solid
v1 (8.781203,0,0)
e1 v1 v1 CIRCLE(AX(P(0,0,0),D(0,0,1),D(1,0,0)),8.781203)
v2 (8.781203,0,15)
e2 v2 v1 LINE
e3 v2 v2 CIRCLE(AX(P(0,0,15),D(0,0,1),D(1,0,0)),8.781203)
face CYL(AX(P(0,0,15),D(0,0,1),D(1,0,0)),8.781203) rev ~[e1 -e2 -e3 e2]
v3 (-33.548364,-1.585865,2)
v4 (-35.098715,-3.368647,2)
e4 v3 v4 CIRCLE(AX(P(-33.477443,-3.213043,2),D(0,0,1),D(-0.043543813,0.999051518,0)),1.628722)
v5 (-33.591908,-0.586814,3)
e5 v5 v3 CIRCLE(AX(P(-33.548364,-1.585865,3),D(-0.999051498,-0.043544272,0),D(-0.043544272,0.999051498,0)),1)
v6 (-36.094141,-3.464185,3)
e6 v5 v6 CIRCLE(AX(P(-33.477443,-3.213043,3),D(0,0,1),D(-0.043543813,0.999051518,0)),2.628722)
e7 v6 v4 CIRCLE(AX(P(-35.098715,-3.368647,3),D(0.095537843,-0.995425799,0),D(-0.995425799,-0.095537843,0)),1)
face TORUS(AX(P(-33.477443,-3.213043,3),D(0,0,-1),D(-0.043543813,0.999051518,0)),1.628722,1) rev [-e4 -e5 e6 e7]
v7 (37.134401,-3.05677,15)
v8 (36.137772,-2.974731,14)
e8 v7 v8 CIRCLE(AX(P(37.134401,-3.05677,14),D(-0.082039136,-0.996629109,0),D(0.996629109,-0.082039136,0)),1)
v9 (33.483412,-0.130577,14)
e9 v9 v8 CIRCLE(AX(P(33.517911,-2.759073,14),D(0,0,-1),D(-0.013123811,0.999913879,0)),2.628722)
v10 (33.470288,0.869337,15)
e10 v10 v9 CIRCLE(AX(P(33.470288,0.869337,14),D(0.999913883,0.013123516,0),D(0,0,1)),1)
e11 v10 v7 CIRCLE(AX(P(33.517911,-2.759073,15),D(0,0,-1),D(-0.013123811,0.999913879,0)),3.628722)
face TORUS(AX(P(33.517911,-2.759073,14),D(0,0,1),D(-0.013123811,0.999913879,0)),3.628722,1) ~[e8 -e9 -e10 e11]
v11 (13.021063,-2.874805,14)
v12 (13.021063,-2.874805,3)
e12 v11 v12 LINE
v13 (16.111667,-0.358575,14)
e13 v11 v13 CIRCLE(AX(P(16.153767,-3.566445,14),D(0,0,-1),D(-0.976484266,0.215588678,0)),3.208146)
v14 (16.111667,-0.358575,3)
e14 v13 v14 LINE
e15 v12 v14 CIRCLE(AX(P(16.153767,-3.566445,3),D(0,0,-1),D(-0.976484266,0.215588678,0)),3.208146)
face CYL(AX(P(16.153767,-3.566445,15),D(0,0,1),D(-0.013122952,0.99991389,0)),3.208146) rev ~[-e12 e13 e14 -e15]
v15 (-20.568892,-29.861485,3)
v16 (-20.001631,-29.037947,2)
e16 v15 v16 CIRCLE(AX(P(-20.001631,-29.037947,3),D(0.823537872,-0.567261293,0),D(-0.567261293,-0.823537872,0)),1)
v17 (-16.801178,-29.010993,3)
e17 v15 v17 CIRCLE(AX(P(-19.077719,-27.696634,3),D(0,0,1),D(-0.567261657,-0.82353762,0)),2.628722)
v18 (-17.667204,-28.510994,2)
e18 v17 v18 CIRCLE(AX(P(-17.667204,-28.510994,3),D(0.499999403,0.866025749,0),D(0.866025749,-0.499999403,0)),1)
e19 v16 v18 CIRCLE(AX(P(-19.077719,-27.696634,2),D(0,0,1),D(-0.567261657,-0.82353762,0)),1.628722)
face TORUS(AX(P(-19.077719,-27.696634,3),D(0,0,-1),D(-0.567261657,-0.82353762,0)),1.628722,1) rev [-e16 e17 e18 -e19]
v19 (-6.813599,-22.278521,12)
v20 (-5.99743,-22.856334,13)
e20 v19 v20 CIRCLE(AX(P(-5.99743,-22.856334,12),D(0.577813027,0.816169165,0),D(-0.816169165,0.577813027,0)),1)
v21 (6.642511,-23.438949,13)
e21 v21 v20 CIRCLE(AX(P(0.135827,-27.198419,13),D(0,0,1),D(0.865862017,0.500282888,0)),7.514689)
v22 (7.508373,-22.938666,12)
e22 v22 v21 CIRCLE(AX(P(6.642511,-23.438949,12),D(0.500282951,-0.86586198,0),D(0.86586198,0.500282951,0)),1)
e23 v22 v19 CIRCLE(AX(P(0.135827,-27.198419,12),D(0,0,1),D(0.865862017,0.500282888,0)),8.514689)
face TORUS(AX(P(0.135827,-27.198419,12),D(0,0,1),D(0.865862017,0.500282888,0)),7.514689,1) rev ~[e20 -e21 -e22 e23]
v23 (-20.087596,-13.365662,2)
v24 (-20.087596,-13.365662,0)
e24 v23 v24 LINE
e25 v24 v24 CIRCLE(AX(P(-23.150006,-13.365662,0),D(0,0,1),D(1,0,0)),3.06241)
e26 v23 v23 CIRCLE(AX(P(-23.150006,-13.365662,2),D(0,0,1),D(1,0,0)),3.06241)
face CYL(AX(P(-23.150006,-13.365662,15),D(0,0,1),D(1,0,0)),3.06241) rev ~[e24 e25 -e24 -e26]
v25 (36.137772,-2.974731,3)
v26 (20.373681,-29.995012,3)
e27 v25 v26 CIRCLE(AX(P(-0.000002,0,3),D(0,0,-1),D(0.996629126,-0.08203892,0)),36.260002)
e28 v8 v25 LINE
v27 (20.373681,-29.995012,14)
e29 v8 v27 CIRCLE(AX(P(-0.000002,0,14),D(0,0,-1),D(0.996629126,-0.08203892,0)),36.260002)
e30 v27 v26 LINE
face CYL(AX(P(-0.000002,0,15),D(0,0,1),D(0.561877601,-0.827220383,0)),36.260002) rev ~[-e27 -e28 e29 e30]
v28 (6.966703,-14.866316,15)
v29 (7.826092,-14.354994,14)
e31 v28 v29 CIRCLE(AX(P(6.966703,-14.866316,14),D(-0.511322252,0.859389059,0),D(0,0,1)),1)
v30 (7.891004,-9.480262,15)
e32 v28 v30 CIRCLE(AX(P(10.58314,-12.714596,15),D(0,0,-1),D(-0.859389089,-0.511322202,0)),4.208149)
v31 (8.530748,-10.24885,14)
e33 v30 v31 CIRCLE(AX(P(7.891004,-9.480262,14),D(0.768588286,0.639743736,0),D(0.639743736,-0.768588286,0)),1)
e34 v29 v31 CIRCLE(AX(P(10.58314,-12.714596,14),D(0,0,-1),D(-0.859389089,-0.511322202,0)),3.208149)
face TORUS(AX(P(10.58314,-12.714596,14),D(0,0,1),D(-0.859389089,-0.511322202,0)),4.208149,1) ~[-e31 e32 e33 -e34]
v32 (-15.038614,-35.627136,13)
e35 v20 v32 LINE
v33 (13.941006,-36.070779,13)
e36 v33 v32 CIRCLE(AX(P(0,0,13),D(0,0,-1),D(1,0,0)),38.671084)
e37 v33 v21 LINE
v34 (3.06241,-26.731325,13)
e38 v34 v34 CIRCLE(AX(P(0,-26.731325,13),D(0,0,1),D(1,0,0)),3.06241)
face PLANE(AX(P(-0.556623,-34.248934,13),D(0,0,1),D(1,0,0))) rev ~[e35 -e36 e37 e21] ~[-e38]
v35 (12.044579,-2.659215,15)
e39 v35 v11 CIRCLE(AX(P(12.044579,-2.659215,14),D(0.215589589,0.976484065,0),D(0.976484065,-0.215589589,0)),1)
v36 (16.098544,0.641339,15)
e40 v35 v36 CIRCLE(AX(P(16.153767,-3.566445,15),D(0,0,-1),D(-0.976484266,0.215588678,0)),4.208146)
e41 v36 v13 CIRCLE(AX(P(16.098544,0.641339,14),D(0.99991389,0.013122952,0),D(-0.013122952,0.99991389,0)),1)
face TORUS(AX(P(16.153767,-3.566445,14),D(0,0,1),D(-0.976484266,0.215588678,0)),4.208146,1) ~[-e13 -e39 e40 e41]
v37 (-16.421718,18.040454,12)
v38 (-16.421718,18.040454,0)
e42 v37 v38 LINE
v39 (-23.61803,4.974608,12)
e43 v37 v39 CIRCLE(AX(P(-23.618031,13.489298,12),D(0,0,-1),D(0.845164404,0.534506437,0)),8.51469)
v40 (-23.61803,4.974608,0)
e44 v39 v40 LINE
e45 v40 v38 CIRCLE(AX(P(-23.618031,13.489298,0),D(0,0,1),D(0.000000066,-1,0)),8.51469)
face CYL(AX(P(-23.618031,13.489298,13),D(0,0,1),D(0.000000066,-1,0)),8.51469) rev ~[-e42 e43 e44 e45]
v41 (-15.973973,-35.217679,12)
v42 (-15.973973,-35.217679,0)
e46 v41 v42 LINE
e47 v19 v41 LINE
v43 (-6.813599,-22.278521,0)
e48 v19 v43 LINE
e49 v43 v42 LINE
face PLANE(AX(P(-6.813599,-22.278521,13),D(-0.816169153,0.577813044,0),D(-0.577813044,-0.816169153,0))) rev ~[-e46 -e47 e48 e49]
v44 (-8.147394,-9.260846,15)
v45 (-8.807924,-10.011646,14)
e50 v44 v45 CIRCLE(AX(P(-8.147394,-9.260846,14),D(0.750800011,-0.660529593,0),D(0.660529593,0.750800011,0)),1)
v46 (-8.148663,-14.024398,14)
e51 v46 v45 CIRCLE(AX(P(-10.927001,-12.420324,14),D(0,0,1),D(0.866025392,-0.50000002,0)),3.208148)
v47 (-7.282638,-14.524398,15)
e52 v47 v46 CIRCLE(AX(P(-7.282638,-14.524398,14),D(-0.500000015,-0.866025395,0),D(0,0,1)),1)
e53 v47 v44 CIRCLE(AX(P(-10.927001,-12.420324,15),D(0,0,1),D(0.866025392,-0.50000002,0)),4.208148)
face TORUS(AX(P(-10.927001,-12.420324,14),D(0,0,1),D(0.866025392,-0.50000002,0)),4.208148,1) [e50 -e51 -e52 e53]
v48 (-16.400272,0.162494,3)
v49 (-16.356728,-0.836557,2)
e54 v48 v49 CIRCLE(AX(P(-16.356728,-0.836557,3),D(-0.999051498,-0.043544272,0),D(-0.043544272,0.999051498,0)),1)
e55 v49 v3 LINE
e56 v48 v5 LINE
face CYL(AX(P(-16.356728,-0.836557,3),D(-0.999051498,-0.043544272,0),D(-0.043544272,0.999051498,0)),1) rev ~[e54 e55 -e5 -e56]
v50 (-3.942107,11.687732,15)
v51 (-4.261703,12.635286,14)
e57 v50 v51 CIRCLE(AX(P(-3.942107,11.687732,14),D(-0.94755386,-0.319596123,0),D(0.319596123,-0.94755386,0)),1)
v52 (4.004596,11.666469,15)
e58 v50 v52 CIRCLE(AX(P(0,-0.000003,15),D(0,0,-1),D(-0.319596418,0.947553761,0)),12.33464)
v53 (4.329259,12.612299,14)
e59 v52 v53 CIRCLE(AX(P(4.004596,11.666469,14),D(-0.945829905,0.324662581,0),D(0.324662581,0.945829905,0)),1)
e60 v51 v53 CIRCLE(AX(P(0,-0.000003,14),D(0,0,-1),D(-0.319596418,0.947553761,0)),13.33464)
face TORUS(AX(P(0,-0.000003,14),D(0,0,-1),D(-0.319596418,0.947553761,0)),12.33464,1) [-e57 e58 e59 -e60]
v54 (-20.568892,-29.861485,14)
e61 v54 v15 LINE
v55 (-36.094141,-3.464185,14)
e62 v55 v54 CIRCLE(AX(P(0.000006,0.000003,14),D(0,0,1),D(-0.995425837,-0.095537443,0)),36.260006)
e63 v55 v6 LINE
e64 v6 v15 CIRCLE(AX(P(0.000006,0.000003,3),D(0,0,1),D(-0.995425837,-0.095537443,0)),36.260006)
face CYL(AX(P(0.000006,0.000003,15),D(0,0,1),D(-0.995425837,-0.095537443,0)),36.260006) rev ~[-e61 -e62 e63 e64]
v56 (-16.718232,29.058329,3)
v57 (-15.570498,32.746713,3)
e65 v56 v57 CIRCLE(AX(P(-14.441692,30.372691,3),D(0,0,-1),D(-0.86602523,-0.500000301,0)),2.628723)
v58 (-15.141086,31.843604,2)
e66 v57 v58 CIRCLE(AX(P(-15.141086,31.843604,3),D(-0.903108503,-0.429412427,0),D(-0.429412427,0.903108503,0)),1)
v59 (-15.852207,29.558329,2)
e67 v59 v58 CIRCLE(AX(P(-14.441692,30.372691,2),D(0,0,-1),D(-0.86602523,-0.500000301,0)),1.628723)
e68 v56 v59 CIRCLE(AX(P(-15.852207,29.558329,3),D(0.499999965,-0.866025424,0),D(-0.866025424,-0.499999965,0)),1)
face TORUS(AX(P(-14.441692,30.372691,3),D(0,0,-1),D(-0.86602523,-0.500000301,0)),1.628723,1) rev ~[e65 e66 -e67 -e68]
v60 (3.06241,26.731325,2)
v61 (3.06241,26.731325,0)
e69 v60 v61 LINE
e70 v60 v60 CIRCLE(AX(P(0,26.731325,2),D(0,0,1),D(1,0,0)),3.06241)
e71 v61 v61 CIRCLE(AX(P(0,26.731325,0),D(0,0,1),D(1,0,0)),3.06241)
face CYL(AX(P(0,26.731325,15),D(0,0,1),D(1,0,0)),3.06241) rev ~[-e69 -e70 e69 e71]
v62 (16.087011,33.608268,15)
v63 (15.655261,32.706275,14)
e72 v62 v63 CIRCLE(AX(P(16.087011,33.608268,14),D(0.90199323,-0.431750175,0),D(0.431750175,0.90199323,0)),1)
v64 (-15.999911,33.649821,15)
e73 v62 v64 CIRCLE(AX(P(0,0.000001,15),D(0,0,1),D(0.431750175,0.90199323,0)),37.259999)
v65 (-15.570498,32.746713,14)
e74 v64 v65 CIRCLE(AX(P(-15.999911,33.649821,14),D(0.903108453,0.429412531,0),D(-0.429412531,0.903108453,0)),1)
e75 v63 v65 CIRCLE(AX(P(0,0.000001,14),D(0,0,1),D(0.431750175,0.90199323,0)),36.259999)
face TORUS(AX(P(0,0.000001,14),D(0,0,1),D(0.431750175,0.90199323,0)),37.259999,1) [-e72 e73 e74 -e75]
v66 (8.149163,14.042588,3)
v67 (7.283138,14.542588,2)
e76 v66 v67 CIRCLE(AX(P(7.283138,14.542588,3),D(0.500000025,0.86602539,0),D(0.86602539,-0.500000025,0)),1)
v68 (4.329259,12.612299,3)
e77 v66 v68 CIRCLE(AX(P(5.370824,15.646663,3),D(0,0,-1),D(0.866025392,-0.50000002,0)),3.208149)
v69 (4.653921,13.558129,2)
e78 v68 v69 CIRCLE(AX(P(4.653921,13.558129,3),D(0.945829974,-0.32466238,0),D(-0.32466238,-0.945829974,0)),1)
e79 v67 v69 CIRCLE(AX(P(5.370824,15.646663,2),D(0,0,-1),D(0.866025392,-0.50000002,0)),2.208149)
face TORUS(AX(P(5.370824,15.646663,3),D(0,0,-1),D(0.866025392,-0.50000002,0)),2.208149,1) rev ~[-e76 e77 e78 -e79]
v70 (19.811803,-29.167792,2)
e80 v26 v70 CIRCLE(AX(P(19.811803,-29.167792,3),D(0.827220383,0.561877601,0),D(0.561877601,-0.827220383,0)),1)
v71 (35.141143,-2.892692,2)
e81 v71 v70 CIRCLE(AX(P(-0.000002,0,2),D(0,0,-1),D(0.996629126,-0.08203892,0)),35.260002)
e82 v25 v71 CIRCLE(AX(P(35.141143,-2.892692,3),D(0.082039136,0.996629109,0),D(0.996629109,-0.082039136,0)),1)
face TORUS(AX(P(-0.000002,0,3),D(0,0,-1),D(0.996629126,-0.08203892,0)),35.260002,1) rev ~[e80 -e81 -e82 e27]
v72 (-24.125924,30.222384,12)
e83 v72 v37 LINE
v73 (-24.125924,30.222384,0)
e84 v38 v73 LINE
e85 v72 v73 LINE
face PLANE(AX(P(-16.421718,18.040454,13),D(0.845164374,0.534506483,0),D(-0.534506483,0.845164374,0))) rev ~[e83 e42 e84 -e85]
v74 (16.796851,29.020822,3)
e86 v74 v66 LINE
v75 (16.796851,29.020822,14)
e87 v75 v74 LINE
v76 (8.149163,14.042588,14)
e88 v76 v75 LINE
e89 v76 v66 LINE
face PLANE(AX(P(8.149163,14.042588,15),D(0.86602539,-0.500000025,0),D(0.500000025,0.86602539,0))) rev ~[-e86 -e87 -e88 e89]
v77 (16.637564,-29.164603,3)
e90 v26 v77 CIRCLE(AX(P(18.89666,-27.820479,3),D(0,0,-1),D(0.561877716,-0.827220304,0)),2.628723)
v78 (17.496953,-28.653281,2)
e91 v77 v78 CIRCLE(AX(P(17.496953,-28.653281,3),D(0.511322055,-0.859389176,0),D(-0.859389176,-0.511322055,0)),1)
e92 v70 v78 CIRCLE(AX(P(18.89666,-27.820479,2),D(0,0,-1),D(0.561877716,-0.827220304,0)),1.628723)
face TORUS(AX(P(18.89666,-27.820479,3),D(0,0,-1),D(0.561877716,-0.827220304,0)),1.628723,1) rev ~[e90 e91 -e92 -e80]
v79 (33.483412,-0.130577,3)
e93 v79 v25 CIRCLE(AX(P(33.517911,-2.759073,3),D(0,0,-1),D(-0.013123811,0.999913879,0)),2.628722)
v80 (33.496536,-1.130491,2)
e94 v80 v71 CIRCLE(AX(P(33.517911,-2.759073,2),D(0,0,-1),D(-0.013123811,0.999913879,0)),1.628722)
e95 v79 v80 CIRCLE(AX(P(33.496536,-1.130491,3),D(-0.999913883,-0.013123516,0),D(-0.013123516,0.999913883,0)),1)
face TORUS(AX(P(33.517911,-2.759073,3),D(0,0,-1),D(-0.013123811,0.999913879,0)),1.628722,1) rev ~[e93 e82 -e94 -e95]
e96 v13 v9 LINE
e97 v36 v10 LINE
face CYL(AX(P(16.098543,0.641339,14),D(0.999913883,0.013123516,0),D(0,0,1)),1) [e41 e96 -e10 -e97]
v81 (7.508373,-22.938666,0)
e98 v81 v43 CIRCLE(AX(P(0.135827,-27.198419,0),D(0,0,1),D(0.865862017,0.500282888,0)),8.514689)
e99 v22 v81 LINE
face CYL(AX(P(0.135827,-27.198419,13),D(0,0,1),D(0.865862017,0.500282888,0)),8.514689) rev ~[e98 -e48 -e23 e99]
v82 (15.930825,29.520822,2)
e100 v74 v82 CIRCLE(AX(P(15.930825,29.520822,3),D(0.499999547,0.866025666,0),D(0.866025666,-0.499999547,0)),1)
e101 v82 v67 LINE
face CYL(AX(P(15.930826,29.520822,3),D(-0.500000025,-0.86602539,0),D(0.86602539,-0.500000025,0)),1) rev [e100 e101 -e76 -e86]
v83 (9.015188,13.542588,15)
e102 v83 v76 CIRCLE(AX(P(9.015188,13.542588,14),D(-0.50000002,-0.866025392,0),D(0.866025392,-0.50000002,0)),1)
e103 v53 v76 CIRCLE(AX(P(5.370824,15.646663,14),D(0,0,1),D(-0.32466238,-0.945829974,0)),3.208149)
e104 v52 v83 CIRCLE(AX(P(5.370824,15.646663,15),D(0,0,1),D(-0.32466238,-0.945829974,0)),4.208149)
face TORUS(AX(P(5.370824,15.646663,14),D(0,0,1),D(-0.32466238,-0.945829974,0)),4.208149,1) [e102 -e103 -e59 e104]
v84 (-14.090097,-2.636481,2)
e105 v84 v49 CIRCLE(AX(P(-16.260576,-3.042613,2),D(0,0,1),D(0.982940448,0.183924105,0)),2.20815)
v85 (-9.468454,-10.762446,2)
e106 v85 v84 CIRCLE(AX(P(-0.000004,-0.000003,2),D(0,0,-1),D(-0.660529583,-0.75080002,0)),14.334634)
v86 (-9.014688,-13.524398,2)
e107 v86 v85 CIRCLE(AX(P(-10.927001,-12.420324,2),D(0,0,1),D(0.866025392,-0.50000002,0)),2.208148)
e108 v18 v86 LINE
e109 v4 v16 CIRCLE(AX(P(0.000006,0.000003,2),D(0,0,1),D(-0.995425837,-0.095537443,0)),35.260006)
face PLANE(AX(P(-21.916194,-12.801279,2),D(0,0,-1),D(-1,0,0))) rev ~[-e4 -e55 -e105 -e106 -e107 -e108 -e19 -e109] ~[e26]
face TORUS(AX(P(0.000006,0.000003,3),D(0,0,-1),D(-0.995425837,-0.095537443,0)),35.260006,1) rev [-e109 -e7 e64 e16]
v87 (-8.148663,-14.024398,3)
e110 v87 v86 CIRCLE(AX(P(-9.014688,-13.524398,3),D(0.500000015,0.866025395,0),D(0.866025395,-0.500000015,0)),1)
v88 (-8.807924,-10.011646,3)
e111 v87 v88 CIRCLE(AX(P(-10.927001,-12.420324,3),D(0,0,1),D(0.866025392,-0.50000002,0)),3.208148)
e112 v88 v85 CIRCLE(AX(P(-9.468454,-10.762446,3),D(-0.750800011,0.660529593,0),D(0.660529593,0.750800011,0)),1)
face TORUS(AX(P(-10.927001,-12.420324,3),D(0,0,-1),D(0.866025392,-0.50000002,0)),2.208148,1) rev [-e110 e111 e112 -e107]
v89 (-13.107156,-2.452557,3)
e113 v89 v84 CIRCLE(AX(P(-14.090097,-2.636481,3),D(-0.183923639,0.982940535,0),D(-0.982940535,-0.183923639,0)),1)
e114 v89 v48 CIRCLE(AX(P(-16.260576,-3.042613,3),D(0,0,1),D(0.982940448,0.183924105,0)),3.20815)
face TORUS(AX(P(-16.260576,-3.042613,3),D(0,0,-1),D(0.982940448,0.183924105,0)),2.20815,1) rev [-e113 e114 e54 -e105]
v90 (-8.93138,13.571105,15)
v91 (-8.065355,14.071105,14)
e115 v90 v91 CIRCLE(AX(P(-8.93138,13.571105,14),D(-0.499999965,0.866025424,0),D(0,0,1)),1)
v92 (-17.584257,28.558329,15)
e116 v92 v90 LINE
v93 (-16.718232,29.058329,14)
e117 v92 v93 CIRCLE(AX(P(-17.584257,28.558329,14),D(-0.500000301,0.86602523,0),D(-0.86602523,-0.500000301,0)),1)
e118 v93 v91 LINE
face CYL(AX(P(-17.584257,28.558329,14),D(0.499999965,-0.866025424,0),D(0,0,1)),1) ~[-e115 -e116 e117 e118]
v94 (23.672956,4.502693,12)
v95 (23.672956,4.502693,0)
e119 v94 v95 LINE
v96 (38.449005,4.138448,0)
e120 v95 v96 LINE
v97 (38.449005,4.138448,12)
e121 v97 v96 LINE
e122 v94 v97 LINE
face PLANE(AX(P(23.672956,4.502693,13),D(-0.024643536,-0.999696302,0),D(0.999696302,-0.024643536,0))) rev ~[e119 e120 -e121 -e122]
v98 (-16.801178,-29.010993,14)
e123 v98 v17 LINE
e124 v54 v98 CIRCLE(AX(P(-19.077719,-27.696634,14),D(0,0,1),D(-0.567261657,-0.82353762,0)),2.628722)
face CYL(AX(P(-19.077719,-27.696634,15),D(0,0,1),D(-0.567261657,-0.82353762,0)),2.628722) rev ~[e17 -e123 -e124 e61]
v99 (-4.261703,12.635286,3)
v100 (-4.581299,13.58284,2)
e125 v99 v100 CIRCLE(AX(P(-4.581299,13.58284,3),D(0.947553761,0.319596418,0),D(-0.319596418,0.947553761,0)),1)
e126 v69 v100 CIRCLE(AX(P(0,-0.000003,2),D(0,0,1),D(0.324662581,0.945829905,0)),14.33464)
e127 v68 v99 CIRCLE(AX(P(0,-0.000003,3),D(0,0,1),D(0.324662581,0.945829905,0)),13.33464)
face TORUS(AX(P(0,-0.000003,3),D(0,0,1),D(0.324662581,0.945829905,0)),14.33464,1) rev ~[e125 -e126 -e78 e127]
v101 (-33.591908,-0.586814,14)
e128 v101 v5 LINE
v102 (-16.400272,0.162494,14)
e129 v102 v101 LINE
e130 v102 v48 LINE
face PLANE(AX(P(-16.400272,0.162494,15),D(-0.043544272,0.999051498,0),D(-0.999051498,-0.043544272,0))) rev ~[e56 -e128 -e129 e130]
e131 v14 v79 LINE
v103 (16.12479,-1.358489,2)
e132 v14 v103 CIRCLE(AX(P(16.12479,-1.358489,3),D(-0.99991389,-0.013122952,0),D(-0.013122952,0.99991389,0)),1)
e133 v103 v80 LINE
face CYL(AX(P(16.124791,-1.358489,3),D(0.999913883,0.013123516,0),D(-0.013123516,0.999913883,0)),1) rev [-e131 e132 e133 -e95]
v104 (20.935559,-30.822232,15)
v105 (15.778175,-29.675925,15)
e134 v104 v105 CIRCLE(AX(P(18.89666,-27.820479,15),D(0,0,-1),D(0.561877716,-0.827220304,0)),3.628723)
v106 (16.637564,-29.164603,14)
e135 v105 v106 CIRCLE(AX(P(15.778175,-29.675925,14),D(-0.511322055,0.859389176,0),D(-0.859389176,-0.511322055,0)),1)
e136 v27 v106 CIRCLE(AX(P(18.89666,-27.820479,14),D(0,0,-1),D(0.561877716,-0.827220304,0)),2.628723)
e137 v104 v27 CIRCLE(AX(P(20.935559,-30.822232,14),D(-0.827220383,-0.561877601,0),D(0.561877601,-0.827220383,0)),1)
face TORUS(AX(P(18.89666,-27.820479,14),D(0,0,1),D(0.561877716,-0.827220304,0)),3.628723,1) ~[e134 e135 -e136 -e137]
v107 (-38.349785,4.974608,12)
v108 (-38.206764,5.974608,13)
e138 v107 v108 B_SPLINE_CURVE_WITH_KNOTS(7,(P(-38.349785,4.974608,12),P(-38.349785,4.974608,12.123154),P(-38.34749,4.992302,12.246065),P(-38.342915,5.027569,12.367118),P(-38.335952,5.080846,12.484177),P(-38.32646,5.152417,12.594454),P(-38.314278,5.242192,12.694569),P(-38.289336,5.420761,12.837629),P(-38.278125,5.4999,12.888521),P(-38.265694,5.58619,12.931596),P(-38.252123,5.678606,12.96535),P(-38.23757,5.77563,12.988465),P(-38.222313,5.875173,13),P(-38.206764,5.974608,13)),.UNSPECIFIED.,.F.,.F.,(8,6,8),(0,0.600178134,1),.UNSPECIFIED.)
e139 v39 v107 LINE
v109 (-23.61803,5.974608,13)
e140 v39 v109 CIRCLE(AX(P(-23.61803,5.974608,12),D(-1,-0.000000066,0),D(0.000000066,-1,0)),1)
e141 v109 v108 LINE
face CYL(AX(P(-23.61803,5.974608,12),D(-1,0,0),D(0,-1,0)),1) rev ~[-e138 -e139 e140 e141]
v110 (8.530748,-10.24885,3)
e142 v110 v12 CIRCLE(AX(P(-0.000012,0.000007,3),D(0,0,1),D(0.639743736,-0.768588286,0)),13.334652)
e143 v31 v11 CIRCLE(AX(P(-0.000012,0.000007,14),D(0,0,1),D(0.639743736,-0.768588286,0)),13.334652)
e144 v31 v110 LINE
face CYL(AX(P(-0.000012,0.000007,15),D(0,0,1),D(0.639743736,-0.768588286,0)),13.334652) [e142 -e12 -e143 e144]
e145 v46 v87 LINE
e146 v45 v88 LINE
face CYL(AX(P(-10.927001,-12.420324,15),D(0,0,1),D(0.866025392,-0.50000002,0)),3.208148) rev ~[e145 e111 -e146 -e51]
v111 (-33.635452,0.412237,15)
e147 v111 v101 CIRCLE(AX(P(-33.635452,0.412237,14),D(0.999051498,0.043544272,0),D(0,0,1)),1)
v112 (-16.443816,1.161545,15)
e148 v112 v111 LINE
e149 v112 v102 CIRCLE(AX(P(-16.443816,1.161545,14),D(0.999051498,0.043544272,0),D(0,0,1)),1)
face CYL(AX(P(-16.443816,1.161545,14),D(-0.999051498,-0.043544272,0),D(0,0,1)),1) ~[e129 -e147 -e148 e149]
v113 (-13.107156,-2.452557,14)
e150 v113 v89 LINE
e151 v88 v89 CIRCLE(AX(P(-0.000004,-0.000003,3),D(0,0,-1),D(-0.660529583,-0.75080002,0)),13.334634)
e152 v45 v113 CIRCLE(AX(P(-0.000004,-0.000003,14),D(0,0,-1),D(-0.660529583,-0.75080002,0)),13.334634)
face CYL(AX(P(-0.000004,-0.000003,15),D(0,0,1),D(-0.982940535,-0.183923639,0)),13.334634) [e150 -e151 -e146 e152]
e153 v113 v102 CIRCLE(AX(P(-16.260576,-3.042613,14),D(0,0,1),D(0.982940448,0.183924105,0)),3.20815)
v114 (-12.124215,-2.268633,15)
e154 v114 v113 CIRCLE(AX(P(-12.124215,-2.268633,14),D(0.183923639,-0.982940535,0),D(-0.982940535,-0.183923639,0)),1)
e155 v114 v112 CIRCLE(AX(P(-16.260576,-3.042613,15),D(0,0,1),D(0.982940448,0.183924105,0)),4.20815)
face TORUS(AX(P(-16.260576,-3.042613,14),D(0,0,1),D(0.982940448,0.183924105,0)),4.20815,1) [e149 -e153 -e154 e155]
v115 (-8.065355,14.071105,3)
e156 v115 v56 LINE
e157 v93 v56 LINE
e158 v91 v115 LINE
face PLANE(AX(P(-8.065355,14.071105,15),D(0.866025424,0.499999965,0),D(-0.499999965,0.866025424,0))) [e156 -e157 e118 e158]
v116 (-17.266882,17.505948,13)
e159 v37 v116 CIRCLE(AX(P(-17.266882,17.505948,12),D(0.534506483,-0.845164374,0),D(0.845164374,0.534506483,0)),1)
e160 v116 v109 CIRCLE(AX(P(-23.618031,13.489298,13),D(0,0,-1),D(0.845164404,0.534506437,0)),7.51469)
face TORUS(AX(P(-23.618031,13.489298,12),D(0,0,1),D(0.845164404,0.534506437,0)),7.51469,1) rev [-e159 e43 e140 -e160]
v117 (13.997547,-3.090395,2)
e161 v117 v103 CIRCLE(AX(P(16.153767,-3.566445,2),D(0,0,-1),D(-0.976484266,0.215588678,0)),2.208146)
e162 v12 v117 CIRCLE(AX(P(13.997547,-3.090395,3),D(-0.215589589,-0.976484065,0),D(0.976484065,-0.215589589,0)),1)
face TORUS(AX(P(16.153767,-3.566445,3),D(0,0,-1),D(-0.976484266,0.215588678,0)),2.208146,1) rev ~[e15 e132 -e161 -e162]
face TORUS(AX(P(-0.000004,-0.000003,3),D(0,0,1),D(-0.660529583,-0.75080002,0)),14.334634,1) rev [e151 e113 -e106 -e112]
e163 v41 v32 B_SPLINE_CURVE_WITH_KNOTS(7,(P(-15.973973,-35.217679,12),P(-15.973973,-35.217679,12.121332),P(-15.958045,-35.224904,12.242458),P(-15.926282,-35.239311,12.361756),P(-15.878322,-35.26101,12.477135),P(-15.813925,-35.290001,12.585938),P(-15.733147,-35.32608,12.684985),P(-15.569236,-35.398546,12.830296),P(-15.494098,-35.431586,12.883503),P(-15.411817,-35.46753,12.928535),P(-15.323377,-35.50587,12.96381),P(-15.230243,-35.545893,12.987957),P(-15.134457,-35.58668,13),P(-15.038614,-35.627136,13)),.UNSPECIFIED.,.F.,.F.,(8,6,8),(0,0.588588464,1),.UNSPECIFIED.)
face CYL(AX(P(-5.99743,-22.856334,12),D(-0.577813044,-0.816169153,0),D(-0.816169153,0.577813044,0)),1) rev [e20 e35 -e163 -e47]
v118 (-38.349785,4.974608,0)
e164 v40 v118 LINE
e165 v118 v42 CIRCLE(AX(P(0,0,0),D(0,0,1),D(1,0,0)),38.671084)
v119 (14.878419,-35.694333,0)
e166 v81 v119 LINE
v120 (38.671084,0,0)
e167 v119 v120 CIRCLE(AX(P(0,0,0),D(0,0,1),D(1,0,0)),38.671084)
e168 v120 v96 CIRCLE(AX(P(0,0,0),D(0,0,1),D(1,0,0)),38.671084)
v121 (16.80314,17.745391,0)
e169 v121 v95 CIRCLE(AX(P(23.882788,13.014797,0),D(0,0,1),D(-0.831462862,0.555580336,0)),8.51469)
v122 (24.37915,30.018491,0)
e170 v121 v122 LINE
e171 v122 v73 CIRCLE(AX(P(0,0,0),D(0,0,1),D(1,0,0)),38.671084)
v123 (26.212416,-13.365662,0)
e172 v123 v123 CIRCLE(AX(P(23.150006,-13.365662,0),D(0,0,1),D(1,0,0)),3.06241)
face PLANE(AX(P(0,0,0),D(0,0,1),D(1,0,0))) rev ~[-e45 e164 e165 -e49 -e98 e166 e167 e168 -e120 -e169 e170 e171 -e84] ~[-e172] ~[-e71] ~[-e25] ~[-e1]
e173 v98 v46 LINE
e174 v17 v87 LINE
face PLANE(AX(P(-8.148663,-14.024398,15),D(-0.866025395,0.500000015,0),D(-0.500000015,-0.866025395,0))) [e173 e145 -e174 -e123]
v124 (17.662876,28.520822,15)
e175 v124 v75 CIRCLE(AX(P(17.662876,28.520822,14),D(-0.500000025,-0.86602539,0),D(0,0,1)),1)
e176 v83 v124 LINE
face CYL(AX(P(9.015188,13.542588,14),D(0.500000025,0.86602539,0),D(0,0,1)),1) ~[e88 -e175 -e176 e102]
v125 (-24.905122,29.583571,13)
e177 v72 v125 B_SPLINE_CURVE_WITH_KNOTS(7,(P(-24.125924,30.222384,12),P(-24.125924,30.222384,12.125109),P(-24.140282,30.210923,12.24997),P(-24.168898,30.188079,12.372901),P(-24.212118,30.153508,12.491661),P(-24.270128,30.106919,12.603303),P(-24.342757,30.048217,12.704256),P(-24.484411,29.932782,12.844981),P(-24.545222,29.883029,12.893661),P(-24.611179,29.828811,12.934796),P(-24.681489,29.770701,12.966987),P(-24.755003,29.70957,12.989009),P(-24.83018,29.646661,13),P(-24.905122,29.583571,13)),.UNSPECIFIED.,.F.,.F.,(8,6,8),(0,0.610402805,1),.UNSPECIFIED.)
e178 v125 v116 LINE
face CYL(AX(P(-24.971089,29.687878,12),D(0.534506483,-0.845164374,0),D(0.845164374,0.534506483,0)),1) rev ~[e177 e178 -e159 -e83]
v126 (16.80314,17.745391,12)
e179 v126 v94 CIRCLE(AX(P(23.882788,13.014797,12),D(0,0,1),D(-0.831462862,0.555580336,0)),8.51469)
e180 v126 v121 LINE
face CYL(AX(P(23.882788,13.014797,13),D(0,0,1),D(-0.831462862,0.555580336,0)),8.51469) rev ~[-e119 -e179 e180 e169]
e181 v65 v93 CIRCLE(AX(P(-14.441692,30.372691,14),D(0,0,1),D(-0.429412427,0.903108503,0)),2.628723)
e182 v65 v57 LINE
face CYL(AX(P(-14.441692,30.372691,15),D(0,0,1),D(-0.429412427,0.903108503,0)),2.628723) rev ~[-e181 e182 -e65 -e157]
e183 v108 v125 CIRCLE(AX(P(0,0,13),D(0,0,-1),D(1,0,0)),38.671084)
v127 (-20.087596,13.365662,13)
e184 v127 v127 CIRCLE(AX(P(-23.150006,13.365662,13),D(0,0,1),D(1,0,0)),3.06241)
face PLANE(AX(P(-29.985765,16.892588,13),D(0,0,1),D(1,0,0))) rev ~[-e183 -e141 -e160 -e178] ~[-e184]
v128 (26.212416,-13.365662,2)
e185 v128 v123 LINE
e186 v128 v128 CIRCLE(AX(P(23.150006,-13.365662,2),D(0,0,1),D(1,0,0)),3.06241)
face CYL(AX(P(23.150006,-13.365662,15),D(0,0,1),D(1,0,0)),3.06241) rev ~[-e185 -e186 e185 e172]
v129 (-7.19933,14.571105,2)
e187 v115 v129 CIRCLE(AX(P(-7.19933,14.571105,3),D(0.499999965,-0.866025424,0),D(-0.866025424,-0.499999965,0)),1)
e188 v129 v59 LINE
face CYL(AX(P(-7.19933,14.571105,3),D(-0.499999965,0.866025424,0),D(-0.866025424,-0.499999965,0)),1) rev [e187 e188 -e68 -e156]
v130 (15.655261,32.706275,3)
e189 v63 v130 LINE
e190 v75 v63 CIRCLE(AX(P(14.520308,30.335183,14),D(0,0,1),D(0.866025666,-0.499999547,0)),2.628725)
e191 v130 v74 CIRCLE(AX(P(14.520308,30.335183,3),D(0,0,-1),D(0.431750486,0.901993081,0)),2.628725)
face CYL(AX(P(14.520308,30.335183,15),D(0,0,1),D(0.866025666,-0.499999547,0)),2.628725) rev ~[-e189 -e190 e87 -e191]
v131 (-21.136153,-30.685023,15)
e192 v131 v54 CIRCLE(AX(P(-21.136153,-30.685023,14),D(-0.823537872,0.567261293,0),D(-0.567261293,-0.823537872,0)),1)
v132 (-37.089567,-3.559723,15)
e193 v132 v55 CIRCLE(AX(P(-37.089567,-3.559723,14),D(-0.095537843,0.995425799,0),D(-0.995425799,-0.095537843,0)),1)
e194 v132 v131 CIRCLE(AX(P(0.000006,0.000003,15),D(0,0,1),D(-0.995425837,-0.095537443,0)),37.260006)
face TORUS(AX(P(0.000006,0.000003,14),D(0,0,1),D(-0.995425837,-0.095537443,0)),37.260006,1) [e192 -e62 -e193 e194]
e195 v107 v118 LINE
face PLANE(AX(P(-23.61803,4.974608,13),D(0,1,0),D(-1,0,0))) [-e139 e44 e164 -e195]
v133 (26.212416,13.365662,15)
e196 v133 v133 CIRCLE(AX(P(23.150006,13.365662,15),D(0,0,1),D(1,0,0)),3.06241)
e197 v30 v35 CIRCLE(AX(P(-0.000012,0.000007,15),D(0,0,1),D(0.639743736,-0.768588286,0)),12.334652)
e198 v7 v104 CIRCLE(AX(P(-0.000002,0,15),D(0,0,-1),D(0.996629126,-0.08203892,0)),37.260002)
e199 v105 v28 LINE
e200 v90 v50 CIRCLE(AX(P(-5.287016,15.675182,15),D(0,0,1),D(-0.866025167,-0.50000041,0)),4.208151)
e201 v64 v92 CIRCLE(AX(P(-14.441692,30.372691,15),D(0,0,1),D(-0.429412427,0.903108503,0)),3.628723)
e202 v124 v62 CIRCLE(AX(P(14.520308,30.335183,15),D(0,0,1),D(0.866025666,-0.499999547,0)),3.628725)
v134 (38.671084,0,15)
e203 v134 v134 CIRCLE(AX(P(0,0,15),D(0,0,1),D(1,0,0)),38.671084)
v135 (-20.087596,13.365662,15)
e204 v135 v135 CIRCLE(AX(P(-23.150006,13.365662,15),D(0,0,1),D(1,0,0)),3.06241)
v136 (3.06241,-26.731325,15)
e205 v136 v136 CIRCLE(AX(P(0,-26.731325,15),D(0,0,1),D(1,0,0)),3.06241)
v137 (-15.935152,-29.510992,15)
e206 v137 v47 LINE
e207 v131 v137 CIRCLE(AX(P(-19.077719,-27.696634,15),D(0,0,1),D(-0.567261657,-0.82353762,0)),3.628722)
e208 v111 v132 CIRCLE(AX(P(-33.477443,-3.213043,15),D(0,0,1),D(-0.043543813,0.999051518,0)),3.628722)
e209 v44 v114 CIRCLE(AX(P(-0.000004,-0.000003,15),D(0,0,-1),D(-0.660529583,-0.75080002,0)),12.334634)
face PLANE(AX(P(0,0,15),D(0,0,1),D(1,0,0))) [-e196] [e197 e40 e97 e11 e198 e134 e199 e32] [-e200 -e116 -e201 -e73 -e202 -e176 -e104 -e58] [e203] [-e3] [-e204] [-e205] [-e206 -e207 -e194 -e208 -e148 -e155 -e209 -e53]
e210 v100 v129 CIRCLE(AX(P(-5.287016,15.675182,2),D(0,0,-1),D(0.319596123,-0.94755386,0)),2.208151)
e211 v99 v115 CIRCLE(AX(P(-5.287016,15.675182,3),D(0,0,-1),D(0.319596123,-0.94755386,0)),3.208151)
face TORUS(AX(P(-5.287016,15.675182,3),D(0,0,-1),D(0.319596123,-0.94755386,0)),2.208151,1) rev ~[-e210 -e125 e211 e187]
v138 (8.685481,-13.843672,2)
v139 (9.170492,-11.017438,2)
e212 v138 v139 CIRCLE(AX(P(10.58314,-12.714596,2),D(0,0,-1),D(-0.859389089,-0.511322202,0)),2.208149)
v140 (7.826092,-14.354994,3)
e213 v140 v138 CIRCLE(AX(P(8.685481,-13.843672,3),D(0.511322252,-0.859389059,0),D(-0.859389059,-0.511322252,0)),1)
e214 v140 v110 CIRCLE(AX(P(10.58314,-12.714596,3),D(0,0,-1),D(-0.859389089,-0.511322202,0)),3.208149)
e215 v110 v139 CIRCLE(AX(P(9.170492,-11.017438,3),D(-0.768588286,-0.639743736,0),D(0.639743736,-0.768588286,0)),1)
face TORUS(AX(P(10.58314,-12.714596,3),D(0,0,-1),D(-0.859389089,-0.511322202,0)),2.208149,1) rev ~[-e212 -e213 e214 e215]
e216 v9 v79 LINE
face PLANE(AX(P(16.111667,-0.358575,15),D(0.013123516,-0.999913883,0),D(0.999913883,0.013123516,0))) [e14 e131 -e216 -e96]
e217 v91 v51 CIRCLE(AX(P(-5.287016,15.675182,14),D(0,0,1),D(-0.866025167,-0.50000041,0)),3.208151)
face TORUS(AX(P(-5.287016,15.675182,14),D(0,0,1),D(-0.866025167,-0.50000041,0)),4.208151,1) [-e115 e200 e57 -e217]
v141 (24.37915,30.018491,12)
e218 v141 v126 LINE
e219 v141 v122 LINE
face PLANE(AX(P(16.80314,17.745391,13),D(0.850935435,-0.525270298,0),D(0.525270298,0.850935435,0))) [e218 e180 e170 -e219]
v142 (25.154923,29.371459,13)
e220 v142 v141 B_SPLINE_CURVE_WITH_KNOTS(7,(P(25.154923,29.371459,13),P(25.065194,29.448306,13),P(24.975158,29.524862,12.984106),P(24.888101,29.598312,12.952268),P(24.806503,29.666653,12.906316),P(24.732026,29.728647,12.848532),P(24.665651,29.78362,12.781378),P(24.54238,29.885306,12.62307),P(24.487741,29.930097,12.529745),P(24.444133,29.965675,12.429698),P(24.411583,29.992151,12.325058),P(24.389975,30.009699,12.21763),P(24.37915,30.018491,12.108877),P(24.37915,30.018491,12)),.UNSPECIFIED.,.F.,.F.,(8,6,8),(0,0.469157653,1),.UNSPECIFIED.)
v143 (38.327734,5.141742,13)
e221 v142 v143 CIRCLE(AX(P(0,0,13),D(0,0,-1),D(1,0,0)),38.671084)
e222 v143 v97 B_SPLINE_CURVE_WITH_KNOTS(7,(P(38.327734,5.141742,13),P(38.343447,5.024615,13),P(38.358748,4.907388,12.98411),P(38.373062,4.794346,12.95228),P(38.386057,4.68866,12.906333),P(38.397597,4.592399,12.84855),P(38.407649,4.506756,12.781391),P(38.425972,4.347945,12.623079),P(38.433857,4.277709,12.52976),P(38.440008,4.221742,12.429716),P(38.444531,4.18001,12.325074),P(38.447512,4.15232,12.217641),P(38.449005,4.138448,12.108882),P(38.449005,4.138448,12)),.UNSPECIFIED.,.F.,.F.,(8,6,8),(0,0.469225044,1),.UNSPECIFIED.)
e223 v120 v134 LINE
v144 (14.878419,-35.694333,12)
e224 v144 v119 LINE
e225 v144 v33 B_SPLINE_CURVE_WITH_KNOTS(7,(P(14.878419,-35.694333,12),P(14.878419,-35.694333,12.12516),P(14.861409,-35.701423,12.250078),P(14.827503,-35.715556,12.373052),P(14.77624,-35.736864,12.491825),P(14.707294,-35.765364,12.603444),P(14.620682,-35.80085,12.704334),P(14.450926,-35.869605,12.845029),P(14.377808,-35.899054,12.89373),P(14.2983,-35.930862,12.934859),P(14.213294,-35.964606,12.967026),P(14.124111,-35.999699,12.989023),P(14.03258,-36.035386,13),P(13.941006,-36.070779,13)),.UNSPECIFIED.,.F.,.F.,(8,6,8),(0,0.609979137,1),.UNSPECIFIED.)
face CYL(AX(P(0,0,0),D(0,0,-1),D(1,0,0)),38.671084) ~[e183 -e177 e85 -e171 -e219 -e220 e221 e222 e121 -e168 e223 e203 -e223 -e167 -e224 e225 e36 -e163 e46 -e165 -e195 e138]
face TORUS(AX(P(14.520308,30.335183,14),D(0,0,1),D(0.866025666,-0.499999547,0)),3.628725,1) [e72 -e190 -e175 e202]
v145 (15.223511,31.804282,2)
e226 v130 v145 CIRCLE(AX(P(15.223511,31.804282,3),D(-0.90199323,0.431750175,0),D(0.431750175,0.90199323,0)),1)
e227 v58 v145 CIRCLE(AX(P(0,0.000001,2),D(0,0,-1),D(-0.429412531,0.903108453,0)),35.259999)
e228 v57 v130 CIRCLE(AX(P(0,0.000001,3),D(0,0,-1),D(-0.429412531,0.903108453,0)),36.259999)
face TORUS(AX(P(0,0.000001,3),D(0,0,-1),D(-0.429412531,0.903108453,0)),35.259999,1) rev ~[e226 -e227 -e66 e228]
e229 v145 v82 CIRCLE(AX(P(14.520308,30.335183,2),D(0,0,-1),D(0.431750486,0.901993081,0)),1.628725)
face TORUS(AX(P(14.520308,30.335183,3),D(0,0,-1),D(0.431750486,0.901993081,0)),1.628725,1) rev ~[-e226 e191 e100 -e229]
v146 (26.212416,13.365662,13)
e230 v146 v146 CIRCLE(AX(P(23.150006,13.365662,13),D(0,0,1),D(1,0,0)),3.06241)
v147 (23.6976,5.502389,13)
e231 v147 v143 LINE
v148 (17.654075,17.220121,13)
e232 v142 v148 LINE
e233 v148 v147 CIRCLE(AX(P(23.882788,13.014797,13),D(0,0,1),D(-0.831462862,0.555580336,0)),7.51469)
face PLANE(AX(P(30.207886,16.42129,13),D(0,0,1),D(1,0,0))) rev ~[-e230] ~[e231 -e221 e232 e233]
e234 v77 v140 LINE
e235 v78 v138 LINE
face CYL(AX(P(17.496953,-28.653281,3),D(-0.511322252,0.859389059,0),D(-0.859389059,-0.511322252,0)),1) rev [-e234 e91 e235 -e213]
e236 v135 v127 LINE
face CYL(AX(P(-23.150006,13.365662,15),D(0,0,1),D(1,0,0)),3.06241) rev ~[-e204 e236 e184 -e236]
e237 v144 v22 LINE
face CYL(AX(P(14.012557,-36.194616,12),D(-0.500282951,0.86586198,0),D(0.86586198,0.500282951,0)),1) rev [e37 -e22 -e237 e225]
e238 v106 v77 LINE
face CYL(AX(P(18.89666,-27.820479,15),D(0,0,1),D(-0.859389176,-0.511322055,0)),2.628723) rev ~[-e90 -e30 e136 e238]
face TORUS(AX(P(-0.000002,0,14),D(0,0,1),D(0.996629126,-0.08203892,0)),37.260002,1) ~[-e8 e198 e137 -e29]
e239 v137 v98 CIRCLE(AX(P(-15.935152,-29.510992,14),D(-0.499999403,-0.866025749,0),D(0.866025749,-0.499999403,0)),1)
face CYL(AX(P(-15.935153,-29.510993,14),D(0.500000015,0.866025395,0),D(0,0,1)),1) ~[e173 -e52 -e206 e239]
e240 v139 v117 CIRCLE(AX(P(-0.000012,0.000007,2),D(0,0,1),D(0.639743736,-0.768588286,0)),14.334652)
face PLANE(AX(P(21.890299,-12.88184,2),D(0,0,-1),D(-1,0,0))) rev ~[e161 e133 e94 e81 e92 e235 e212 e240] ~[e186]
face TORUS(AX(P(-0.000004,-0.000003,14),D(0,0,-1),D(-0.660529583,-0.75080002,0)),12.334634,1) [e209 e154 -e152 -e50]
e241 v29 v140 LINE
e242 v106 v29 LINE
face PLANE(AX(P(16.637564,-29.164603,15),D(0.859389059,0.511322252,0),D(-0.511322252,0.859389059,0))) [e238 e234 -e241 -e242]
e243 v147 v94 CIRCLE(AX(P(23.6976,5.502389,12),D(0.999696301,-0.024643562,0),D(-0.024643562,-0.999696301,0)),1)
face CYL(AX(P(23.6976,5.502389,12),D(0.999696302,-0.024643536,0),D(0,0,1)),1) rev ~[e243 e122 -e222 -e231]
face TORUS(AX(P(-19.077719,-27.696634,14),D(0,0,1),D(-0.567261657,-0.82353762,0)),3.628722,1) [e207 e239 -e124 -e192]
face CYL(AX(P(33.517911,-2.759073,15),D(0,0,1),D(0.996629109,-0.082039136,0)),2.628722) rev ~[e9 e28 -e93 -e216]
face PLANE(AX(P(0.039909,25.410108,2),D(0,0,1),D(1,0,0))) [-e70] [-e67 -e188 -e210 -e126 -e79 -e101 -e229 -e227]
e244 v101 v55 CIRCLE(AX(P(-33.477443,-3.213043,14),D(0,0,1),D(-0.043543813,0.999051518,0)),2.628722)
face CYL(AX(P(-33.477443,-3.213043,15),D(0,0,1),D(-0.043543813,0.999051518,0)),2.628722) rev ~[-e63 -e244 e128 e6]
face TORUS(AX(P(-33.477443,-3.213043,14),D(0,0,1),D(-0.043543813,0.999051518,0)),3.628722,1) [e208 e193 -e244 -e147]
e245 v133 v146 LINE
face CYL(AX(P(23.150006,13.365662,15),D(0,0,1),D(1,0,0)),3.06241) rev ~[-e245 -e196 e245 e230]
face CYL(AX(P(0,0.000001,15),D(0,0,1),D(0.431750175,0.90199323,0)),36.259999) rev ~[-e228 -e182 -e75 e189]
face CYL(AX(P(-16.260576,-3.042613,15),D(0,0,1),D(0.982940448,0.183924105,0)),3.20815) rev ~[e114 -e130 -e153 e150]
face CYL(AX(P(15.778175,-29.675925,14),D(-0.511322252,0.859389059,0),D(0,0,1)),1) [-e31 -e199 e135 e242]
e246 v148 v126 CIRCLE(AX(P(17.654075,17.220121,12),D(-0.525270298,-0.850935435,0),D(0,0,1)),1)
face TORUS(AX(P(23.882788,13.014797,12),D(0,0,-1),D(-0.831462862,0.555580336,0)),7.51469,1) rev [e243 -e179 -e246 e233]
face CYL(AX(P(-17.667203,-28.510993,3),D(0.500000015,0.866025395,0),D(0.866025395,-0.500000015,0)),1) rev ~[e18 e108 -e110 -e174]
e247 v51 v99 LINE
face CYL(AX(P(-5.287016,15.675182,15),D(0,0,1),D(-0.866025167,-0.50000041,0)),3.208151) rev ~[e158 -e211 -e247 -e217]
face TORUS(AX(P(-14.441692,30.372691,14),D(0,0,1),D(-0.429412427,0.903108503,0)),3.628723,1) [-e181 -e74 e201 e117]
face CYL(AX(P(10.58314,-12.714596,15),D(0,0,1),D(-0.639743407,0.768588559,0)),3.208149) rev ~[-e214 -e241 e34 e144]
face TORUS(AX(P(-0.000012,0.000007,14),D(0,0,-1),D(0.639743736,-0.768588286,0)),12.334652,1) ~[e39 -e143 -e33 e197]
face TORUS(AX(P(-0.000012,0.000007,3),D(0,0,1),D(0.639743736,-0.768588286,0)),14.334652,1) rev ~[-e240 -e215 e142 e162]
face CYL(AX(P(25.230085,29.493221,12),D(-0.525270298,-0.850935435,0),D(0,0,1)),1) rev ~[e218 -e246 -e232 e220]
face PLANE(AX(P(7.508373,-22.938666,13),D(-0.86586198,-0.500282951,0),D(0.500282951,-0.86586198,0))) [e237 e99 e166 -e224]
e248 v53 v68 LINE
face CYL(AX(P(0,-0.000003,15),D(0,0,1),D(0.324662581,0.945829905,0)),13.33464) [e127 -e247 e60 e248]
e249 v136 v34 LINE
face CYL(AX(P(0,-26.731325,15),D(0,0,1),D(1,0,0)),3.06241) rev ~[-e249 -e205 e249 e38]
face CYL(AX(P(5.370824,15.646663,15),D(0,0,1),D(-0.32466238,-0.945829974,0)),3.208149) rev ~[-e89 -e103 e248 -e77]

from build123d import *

# Parameters (mm, degrees)
SKETCH_R        = 38.671084
PAD_DEPTH       = 15
SKETCH001_R     = 3.06241
POCKET_DEPTH    = 15.001
POCKET001_DEPTH = 13
SKETCH004_R     = 8.781203
POCKET002_DEPTH = 15.001
POCKET003_DEPTH = 18
FILLET_R        = 1
FILLET001_R     = 1
FILLET002_R     = 1
FILLET003_R     = 1
FILLET004_R     = 1
FILLET005_R     = 1
FILLET006_R     = 1
FILLET007_R     = 1
FILLET008_R     = 1


with BuildPart() as part:
    # Sketch → Pad (new body)
    with BuildSketch(Plane.XY):
        Circle(SKETCH_R)
    extrude(amount=PAD_DEPTH)

    # Sketch001 (on Face3 of Pad) → Pocket (cut, through all)
    with BuildSketch(Plane.XY.offset(15)):
        with Locations((-23.150006, 13.365662)):
            Circle(SKETCH001_R)
        with Locations((0, 26.731325)):
            Circle(SKETCH001_R)
        with Locations((23.150006, 13.365662)):
            Circle(SKETCH001_R)
        with Locations((23.150006, -13.365662)):
            Circle(SKETCH001_R)
        with Locations((0, -26.731325)):
            Circle(SKETCH001_R)
        with Locations((-23.150006, -13.365662)):
            Circle(SKETCH001_R)
    extrude(amount=-POCKET_DEPTH, mode=Mode.SUBTRACT)

    # Sketch002 (on Face3 of Pocket) → Pocket001 (cut)
    with BuildSketch(Plane.XY.offset(15)):
        with BuildLine():
            ThreePointArc((-13.107156, -2.452557), (-11.591059, -6.592415), (-8.807924, -10.011646))
            ThreePointArc((-8.148663, -14.024398), (-7.761292, -11.900225), (-8.807924, -10.011646))
            Line((-8.148663, -14.024398), (-16.801178, -29.010993))
            ThreePointArc((-20.568892, -29.861485), (-18.498897, -30.260838), (-16.801178, -29.010993))
            ThreePointArc((-36.094141, -3.464185), (-31.255066, -18.382285), (-20.568892, -29.861485))
            ThreePointArc((-33.591908, -0.586814), (-35.461033, -1.488064), (-36.094141, -3.464185))
            Line((-16.400272, 0.162494), (-33.591908, -0.586814))
            ThreePointArc((-13.107156, -2.452557), (-14.265518, -0.53025), (-16.400272, 0.162494))
        make_face()
        with BuildLine():
            Line((8.149163, 14.042588), (16.796851, 29.020822))
            ThreePointArc((16.796851, 29.020822), (17.031327, 31.112986), (15.655261, 32.706275))
            ThreePointArc((15.655261, 32.706275), (0.046958, 36.25997), (-15.570498, 32.746713))
            ThreePointArc((-15.570498, 32.746713), (-16.9517, 31.153743), (-16.718232, 29.058329))
            Line((-8.065355, 14.071105), (-16.718232, 29.058329))
            ThreePointArc((-8.065355, 14.071105), (-6.420007, 12.673755), (-4.261703, 12.635286))
            ThreePointArc((4.329259, 12.612299), (0.03568, 13.33459), (-4.261703, 12.635286))
            ThreePointArc((4.329259, 12.612299), (6.495781, 12.642217), (8.149163, 14.042588))
        make_face()
        with BuildLine():
            Line((16.111667, -0.358575), (33.483412, -0.130577))
            ThreePointArc((36.137772, -2.974731), (35.439714, -0.965514), (33.483412, -0.130577))
            ThreePointArc((20.373681, -29.995012), (31.319482, -18.272319), (36.137772, -2.974731))
            ThreePointArc((16.637564, -29.164603), (18.326305, -30.386581), (20.373681, -29.995012))
            Line((16.637564, -29.164603), (7.826092, -14.354994))
            ThreePointArc((8.530748, -10.24885), (7.421213, -12.171977), (7.826092, -14.354994))
            ThreePointArc((8.530748, -10.24885), (11.389217, -6.935294), (13.021063, -2.874805))
            ThreePointArc((16.111667, -0.358575), (14.128255, -1.078574), (13.021063, -2.874805))
        make_face()
    extrude(amount=-POCKET001_DEPTH, mode=Mode.SUBTRACT)

    # Sketch004 (on Face3 of Pocket001) → Pocket002 (cut, through all)
    with BuildSketch(Plane.XY.offset(15)):
        Circle(SKETCH004_R)
    extrude(amount=-POCKET002_DEPTH, mode=Mode.SUBTRACT)

    # Sketch005 (on Face3 of Pad) → Pocket003 (cut)
    with BuildSketch(Plane.XY.offset(13)):
        with BuildLine():
            ThreePointArc((-23.61803, 4.974608), (-16.159759, 9.381485), (-16.421718, 18.040454))
            Line((-16.421718, 18.040454), (-28.422843, 37.016694))
            Line((-28.422843, 37.016694), (-46.404134, 4.974608))
            Line((-23.61803, 4.974608), (-46.404134, 4.974608))
        make_face()
        with BuildLine():
            ThreePointArc((16.80314, 17.745391), (16.324588, 9.093885), (23.672956, 4.502693))
            Line((23.672956, 4.502693), (46.50349, 3.939897))
            Line((28.609982, 36.87242), (46.50349, 3.939897))
            Line((16.80314, 17.745391), (28.609982, 36.87242))
        make_face()
        with BuildLine():
            ThreePointArc((7.508373, -22.938666), (0.52788, -18.692761), (-6.813599, -22.278521))
            Line((-6.813599, -22.278521), (-20.697716, -41.890034))
            Line((-20.697716, -41.890034), (18.908171, -42.668804))
            Line((7.508373, -22.938666), (18.908171, -42.668804))
        make_face()
    extrude(amount=-POCKET003_DEPTH, mode=Mode.SUBTRACT)

    # Fillet
    fillet_edges = [part.edges().sort_by_distance(p)[0] for p in [
        (-24.99609, -0.21216, 15),
        (-14.265518, -0.53025, 15),
        (-11.591059, -6.592415, 15),
        (-7.761292, -11.900225, 15),
        (-12.47492, -21.517696, 15),
        (-18.498897, -30.260838, 15),
        (-31.255066, -18.382285, 15),
        (-35.461033, -1.488064, 15),
    ]]
    fillet(fillet_edges, radius=FILLET_R)

    # Fillet001
    fillet001_edges = [part.edges().sort_by_distance(p)[0] for p in [
        (11.389217, -6.935294, 15),
        (14.128255, -1.078574, 15),
        (24.797539, -0.244576, 15),
        (35.439714, -0.965514, 15),
        (31.319482, -18.272319, 15),
        (18.326305, -30.386581, 15),
        (12.231828, -21.759799, 15),
        (7.421213, -12.171977, 15),
    ]]
    fillet(fillet001_edges, radius=FILLET001_R)

    # Fillet002
    fillet002_edges = [part.edges().sort_by_distance(p)[0] for p in [
        (0.046958, 36.25997, 15),
        (-16.9517, 31.153743, 15),
        (-12.391794, 21.564717, 15),
        (-6.420007, 12.673755, 15),
        (0.03568, 13.33459, 15),
        (6.495781, 12.642217, 15),
        (12.473007, 21.531705, 15),
        (17.031327, 31.112986, 15),
    ]]
    fillet(fillet002_edges, radius=FILLET002_R)

    # Fillet003
    fillet003_edges = [part.edges().sort_by_distance(p)[0] for p in [
        (-12.391794, 21.564717, 2),
        (-16.9517, 31.153743, 2),
        (0.046958, 36.25997, 2),
        (17.031327, 31.112986, 2),
        (6.495781, 12.642217, 2),
        (12.473007, 21.531705, 2),
        (0.03568, 13.33459, 2),
        (-6.420007, 12.673755, 2),
    ]]
    fillet(fillet003_edges, radius=FILLET003_R)

    # Fillet004
    fillet004_edges = [part.edges().sort_by_distance(p)[0] for p in [
        (-24.99609, -0.21216, 2),
        (-14.265518, -0.53025, 2),
        (-11.591059, -6.592415, 2),
        (-7.761292, -11.900225, 2),
        (-12.47492, -21.517696, 2),
        (-18.498897, -30.260838, 2),
        (-31.255066, -18.382285, 2),
        (-35.461033, -1.488064, 2),
    ]]
    fillet(fillet004_edges, radius=FILLET004_R)

    # Fillet005
    fillet005_edges = [part.edges().sort_by_distance(p)[0] for p in [
        (11.389217, -6.935294, 2),
        (14.128255, -1.078574, 2),
        (24.797539, -0.244576, 2),
        (12.231828, -21.759799, 2),
        (7.421213, -12.171977, 2),
        (18.326305, -30.386581, 2),
        (31.319482, -18.272319, 2),
        (35.439714, -0.965514, 2),
    ]]
    fillet(fillet005_edges, radius=FILLET005_R)

    # Fillet006
    fillet006_edges = [part.edges().sort_by_distance(p)[0] for p in [
        (-11.393786, -28.7481, 13),
        (0.52788, -18.692761, 13),
        (11.193396, -29.3165, 13),
    ]]
    fillet(fillet006_edges, radius=FILLET006_R)

    # Fillet007
    fillet007_edges = [part.edges().sort_by_distance(p)[0] for p in [
        (-30.983908, 4.974608, 13),
        (-16.159759, 9.381485, 13),
        (-20.273821, 24.131419, 13),
    ]]
    fillet(fillet007_edges, radius=FILLET007_R)

    # Fillet008
    fillet008_edges = [part.edges().sort_by_distance(p)[0] for p in [
        (31.06098, 4.320571, 13),
        (16.324588, 9.093885, 13),
        (20.591145, 23.881941, 13),
    ]]
    fillet(fillet008_edges, radius=FILLET008_R)


solid = part.part
